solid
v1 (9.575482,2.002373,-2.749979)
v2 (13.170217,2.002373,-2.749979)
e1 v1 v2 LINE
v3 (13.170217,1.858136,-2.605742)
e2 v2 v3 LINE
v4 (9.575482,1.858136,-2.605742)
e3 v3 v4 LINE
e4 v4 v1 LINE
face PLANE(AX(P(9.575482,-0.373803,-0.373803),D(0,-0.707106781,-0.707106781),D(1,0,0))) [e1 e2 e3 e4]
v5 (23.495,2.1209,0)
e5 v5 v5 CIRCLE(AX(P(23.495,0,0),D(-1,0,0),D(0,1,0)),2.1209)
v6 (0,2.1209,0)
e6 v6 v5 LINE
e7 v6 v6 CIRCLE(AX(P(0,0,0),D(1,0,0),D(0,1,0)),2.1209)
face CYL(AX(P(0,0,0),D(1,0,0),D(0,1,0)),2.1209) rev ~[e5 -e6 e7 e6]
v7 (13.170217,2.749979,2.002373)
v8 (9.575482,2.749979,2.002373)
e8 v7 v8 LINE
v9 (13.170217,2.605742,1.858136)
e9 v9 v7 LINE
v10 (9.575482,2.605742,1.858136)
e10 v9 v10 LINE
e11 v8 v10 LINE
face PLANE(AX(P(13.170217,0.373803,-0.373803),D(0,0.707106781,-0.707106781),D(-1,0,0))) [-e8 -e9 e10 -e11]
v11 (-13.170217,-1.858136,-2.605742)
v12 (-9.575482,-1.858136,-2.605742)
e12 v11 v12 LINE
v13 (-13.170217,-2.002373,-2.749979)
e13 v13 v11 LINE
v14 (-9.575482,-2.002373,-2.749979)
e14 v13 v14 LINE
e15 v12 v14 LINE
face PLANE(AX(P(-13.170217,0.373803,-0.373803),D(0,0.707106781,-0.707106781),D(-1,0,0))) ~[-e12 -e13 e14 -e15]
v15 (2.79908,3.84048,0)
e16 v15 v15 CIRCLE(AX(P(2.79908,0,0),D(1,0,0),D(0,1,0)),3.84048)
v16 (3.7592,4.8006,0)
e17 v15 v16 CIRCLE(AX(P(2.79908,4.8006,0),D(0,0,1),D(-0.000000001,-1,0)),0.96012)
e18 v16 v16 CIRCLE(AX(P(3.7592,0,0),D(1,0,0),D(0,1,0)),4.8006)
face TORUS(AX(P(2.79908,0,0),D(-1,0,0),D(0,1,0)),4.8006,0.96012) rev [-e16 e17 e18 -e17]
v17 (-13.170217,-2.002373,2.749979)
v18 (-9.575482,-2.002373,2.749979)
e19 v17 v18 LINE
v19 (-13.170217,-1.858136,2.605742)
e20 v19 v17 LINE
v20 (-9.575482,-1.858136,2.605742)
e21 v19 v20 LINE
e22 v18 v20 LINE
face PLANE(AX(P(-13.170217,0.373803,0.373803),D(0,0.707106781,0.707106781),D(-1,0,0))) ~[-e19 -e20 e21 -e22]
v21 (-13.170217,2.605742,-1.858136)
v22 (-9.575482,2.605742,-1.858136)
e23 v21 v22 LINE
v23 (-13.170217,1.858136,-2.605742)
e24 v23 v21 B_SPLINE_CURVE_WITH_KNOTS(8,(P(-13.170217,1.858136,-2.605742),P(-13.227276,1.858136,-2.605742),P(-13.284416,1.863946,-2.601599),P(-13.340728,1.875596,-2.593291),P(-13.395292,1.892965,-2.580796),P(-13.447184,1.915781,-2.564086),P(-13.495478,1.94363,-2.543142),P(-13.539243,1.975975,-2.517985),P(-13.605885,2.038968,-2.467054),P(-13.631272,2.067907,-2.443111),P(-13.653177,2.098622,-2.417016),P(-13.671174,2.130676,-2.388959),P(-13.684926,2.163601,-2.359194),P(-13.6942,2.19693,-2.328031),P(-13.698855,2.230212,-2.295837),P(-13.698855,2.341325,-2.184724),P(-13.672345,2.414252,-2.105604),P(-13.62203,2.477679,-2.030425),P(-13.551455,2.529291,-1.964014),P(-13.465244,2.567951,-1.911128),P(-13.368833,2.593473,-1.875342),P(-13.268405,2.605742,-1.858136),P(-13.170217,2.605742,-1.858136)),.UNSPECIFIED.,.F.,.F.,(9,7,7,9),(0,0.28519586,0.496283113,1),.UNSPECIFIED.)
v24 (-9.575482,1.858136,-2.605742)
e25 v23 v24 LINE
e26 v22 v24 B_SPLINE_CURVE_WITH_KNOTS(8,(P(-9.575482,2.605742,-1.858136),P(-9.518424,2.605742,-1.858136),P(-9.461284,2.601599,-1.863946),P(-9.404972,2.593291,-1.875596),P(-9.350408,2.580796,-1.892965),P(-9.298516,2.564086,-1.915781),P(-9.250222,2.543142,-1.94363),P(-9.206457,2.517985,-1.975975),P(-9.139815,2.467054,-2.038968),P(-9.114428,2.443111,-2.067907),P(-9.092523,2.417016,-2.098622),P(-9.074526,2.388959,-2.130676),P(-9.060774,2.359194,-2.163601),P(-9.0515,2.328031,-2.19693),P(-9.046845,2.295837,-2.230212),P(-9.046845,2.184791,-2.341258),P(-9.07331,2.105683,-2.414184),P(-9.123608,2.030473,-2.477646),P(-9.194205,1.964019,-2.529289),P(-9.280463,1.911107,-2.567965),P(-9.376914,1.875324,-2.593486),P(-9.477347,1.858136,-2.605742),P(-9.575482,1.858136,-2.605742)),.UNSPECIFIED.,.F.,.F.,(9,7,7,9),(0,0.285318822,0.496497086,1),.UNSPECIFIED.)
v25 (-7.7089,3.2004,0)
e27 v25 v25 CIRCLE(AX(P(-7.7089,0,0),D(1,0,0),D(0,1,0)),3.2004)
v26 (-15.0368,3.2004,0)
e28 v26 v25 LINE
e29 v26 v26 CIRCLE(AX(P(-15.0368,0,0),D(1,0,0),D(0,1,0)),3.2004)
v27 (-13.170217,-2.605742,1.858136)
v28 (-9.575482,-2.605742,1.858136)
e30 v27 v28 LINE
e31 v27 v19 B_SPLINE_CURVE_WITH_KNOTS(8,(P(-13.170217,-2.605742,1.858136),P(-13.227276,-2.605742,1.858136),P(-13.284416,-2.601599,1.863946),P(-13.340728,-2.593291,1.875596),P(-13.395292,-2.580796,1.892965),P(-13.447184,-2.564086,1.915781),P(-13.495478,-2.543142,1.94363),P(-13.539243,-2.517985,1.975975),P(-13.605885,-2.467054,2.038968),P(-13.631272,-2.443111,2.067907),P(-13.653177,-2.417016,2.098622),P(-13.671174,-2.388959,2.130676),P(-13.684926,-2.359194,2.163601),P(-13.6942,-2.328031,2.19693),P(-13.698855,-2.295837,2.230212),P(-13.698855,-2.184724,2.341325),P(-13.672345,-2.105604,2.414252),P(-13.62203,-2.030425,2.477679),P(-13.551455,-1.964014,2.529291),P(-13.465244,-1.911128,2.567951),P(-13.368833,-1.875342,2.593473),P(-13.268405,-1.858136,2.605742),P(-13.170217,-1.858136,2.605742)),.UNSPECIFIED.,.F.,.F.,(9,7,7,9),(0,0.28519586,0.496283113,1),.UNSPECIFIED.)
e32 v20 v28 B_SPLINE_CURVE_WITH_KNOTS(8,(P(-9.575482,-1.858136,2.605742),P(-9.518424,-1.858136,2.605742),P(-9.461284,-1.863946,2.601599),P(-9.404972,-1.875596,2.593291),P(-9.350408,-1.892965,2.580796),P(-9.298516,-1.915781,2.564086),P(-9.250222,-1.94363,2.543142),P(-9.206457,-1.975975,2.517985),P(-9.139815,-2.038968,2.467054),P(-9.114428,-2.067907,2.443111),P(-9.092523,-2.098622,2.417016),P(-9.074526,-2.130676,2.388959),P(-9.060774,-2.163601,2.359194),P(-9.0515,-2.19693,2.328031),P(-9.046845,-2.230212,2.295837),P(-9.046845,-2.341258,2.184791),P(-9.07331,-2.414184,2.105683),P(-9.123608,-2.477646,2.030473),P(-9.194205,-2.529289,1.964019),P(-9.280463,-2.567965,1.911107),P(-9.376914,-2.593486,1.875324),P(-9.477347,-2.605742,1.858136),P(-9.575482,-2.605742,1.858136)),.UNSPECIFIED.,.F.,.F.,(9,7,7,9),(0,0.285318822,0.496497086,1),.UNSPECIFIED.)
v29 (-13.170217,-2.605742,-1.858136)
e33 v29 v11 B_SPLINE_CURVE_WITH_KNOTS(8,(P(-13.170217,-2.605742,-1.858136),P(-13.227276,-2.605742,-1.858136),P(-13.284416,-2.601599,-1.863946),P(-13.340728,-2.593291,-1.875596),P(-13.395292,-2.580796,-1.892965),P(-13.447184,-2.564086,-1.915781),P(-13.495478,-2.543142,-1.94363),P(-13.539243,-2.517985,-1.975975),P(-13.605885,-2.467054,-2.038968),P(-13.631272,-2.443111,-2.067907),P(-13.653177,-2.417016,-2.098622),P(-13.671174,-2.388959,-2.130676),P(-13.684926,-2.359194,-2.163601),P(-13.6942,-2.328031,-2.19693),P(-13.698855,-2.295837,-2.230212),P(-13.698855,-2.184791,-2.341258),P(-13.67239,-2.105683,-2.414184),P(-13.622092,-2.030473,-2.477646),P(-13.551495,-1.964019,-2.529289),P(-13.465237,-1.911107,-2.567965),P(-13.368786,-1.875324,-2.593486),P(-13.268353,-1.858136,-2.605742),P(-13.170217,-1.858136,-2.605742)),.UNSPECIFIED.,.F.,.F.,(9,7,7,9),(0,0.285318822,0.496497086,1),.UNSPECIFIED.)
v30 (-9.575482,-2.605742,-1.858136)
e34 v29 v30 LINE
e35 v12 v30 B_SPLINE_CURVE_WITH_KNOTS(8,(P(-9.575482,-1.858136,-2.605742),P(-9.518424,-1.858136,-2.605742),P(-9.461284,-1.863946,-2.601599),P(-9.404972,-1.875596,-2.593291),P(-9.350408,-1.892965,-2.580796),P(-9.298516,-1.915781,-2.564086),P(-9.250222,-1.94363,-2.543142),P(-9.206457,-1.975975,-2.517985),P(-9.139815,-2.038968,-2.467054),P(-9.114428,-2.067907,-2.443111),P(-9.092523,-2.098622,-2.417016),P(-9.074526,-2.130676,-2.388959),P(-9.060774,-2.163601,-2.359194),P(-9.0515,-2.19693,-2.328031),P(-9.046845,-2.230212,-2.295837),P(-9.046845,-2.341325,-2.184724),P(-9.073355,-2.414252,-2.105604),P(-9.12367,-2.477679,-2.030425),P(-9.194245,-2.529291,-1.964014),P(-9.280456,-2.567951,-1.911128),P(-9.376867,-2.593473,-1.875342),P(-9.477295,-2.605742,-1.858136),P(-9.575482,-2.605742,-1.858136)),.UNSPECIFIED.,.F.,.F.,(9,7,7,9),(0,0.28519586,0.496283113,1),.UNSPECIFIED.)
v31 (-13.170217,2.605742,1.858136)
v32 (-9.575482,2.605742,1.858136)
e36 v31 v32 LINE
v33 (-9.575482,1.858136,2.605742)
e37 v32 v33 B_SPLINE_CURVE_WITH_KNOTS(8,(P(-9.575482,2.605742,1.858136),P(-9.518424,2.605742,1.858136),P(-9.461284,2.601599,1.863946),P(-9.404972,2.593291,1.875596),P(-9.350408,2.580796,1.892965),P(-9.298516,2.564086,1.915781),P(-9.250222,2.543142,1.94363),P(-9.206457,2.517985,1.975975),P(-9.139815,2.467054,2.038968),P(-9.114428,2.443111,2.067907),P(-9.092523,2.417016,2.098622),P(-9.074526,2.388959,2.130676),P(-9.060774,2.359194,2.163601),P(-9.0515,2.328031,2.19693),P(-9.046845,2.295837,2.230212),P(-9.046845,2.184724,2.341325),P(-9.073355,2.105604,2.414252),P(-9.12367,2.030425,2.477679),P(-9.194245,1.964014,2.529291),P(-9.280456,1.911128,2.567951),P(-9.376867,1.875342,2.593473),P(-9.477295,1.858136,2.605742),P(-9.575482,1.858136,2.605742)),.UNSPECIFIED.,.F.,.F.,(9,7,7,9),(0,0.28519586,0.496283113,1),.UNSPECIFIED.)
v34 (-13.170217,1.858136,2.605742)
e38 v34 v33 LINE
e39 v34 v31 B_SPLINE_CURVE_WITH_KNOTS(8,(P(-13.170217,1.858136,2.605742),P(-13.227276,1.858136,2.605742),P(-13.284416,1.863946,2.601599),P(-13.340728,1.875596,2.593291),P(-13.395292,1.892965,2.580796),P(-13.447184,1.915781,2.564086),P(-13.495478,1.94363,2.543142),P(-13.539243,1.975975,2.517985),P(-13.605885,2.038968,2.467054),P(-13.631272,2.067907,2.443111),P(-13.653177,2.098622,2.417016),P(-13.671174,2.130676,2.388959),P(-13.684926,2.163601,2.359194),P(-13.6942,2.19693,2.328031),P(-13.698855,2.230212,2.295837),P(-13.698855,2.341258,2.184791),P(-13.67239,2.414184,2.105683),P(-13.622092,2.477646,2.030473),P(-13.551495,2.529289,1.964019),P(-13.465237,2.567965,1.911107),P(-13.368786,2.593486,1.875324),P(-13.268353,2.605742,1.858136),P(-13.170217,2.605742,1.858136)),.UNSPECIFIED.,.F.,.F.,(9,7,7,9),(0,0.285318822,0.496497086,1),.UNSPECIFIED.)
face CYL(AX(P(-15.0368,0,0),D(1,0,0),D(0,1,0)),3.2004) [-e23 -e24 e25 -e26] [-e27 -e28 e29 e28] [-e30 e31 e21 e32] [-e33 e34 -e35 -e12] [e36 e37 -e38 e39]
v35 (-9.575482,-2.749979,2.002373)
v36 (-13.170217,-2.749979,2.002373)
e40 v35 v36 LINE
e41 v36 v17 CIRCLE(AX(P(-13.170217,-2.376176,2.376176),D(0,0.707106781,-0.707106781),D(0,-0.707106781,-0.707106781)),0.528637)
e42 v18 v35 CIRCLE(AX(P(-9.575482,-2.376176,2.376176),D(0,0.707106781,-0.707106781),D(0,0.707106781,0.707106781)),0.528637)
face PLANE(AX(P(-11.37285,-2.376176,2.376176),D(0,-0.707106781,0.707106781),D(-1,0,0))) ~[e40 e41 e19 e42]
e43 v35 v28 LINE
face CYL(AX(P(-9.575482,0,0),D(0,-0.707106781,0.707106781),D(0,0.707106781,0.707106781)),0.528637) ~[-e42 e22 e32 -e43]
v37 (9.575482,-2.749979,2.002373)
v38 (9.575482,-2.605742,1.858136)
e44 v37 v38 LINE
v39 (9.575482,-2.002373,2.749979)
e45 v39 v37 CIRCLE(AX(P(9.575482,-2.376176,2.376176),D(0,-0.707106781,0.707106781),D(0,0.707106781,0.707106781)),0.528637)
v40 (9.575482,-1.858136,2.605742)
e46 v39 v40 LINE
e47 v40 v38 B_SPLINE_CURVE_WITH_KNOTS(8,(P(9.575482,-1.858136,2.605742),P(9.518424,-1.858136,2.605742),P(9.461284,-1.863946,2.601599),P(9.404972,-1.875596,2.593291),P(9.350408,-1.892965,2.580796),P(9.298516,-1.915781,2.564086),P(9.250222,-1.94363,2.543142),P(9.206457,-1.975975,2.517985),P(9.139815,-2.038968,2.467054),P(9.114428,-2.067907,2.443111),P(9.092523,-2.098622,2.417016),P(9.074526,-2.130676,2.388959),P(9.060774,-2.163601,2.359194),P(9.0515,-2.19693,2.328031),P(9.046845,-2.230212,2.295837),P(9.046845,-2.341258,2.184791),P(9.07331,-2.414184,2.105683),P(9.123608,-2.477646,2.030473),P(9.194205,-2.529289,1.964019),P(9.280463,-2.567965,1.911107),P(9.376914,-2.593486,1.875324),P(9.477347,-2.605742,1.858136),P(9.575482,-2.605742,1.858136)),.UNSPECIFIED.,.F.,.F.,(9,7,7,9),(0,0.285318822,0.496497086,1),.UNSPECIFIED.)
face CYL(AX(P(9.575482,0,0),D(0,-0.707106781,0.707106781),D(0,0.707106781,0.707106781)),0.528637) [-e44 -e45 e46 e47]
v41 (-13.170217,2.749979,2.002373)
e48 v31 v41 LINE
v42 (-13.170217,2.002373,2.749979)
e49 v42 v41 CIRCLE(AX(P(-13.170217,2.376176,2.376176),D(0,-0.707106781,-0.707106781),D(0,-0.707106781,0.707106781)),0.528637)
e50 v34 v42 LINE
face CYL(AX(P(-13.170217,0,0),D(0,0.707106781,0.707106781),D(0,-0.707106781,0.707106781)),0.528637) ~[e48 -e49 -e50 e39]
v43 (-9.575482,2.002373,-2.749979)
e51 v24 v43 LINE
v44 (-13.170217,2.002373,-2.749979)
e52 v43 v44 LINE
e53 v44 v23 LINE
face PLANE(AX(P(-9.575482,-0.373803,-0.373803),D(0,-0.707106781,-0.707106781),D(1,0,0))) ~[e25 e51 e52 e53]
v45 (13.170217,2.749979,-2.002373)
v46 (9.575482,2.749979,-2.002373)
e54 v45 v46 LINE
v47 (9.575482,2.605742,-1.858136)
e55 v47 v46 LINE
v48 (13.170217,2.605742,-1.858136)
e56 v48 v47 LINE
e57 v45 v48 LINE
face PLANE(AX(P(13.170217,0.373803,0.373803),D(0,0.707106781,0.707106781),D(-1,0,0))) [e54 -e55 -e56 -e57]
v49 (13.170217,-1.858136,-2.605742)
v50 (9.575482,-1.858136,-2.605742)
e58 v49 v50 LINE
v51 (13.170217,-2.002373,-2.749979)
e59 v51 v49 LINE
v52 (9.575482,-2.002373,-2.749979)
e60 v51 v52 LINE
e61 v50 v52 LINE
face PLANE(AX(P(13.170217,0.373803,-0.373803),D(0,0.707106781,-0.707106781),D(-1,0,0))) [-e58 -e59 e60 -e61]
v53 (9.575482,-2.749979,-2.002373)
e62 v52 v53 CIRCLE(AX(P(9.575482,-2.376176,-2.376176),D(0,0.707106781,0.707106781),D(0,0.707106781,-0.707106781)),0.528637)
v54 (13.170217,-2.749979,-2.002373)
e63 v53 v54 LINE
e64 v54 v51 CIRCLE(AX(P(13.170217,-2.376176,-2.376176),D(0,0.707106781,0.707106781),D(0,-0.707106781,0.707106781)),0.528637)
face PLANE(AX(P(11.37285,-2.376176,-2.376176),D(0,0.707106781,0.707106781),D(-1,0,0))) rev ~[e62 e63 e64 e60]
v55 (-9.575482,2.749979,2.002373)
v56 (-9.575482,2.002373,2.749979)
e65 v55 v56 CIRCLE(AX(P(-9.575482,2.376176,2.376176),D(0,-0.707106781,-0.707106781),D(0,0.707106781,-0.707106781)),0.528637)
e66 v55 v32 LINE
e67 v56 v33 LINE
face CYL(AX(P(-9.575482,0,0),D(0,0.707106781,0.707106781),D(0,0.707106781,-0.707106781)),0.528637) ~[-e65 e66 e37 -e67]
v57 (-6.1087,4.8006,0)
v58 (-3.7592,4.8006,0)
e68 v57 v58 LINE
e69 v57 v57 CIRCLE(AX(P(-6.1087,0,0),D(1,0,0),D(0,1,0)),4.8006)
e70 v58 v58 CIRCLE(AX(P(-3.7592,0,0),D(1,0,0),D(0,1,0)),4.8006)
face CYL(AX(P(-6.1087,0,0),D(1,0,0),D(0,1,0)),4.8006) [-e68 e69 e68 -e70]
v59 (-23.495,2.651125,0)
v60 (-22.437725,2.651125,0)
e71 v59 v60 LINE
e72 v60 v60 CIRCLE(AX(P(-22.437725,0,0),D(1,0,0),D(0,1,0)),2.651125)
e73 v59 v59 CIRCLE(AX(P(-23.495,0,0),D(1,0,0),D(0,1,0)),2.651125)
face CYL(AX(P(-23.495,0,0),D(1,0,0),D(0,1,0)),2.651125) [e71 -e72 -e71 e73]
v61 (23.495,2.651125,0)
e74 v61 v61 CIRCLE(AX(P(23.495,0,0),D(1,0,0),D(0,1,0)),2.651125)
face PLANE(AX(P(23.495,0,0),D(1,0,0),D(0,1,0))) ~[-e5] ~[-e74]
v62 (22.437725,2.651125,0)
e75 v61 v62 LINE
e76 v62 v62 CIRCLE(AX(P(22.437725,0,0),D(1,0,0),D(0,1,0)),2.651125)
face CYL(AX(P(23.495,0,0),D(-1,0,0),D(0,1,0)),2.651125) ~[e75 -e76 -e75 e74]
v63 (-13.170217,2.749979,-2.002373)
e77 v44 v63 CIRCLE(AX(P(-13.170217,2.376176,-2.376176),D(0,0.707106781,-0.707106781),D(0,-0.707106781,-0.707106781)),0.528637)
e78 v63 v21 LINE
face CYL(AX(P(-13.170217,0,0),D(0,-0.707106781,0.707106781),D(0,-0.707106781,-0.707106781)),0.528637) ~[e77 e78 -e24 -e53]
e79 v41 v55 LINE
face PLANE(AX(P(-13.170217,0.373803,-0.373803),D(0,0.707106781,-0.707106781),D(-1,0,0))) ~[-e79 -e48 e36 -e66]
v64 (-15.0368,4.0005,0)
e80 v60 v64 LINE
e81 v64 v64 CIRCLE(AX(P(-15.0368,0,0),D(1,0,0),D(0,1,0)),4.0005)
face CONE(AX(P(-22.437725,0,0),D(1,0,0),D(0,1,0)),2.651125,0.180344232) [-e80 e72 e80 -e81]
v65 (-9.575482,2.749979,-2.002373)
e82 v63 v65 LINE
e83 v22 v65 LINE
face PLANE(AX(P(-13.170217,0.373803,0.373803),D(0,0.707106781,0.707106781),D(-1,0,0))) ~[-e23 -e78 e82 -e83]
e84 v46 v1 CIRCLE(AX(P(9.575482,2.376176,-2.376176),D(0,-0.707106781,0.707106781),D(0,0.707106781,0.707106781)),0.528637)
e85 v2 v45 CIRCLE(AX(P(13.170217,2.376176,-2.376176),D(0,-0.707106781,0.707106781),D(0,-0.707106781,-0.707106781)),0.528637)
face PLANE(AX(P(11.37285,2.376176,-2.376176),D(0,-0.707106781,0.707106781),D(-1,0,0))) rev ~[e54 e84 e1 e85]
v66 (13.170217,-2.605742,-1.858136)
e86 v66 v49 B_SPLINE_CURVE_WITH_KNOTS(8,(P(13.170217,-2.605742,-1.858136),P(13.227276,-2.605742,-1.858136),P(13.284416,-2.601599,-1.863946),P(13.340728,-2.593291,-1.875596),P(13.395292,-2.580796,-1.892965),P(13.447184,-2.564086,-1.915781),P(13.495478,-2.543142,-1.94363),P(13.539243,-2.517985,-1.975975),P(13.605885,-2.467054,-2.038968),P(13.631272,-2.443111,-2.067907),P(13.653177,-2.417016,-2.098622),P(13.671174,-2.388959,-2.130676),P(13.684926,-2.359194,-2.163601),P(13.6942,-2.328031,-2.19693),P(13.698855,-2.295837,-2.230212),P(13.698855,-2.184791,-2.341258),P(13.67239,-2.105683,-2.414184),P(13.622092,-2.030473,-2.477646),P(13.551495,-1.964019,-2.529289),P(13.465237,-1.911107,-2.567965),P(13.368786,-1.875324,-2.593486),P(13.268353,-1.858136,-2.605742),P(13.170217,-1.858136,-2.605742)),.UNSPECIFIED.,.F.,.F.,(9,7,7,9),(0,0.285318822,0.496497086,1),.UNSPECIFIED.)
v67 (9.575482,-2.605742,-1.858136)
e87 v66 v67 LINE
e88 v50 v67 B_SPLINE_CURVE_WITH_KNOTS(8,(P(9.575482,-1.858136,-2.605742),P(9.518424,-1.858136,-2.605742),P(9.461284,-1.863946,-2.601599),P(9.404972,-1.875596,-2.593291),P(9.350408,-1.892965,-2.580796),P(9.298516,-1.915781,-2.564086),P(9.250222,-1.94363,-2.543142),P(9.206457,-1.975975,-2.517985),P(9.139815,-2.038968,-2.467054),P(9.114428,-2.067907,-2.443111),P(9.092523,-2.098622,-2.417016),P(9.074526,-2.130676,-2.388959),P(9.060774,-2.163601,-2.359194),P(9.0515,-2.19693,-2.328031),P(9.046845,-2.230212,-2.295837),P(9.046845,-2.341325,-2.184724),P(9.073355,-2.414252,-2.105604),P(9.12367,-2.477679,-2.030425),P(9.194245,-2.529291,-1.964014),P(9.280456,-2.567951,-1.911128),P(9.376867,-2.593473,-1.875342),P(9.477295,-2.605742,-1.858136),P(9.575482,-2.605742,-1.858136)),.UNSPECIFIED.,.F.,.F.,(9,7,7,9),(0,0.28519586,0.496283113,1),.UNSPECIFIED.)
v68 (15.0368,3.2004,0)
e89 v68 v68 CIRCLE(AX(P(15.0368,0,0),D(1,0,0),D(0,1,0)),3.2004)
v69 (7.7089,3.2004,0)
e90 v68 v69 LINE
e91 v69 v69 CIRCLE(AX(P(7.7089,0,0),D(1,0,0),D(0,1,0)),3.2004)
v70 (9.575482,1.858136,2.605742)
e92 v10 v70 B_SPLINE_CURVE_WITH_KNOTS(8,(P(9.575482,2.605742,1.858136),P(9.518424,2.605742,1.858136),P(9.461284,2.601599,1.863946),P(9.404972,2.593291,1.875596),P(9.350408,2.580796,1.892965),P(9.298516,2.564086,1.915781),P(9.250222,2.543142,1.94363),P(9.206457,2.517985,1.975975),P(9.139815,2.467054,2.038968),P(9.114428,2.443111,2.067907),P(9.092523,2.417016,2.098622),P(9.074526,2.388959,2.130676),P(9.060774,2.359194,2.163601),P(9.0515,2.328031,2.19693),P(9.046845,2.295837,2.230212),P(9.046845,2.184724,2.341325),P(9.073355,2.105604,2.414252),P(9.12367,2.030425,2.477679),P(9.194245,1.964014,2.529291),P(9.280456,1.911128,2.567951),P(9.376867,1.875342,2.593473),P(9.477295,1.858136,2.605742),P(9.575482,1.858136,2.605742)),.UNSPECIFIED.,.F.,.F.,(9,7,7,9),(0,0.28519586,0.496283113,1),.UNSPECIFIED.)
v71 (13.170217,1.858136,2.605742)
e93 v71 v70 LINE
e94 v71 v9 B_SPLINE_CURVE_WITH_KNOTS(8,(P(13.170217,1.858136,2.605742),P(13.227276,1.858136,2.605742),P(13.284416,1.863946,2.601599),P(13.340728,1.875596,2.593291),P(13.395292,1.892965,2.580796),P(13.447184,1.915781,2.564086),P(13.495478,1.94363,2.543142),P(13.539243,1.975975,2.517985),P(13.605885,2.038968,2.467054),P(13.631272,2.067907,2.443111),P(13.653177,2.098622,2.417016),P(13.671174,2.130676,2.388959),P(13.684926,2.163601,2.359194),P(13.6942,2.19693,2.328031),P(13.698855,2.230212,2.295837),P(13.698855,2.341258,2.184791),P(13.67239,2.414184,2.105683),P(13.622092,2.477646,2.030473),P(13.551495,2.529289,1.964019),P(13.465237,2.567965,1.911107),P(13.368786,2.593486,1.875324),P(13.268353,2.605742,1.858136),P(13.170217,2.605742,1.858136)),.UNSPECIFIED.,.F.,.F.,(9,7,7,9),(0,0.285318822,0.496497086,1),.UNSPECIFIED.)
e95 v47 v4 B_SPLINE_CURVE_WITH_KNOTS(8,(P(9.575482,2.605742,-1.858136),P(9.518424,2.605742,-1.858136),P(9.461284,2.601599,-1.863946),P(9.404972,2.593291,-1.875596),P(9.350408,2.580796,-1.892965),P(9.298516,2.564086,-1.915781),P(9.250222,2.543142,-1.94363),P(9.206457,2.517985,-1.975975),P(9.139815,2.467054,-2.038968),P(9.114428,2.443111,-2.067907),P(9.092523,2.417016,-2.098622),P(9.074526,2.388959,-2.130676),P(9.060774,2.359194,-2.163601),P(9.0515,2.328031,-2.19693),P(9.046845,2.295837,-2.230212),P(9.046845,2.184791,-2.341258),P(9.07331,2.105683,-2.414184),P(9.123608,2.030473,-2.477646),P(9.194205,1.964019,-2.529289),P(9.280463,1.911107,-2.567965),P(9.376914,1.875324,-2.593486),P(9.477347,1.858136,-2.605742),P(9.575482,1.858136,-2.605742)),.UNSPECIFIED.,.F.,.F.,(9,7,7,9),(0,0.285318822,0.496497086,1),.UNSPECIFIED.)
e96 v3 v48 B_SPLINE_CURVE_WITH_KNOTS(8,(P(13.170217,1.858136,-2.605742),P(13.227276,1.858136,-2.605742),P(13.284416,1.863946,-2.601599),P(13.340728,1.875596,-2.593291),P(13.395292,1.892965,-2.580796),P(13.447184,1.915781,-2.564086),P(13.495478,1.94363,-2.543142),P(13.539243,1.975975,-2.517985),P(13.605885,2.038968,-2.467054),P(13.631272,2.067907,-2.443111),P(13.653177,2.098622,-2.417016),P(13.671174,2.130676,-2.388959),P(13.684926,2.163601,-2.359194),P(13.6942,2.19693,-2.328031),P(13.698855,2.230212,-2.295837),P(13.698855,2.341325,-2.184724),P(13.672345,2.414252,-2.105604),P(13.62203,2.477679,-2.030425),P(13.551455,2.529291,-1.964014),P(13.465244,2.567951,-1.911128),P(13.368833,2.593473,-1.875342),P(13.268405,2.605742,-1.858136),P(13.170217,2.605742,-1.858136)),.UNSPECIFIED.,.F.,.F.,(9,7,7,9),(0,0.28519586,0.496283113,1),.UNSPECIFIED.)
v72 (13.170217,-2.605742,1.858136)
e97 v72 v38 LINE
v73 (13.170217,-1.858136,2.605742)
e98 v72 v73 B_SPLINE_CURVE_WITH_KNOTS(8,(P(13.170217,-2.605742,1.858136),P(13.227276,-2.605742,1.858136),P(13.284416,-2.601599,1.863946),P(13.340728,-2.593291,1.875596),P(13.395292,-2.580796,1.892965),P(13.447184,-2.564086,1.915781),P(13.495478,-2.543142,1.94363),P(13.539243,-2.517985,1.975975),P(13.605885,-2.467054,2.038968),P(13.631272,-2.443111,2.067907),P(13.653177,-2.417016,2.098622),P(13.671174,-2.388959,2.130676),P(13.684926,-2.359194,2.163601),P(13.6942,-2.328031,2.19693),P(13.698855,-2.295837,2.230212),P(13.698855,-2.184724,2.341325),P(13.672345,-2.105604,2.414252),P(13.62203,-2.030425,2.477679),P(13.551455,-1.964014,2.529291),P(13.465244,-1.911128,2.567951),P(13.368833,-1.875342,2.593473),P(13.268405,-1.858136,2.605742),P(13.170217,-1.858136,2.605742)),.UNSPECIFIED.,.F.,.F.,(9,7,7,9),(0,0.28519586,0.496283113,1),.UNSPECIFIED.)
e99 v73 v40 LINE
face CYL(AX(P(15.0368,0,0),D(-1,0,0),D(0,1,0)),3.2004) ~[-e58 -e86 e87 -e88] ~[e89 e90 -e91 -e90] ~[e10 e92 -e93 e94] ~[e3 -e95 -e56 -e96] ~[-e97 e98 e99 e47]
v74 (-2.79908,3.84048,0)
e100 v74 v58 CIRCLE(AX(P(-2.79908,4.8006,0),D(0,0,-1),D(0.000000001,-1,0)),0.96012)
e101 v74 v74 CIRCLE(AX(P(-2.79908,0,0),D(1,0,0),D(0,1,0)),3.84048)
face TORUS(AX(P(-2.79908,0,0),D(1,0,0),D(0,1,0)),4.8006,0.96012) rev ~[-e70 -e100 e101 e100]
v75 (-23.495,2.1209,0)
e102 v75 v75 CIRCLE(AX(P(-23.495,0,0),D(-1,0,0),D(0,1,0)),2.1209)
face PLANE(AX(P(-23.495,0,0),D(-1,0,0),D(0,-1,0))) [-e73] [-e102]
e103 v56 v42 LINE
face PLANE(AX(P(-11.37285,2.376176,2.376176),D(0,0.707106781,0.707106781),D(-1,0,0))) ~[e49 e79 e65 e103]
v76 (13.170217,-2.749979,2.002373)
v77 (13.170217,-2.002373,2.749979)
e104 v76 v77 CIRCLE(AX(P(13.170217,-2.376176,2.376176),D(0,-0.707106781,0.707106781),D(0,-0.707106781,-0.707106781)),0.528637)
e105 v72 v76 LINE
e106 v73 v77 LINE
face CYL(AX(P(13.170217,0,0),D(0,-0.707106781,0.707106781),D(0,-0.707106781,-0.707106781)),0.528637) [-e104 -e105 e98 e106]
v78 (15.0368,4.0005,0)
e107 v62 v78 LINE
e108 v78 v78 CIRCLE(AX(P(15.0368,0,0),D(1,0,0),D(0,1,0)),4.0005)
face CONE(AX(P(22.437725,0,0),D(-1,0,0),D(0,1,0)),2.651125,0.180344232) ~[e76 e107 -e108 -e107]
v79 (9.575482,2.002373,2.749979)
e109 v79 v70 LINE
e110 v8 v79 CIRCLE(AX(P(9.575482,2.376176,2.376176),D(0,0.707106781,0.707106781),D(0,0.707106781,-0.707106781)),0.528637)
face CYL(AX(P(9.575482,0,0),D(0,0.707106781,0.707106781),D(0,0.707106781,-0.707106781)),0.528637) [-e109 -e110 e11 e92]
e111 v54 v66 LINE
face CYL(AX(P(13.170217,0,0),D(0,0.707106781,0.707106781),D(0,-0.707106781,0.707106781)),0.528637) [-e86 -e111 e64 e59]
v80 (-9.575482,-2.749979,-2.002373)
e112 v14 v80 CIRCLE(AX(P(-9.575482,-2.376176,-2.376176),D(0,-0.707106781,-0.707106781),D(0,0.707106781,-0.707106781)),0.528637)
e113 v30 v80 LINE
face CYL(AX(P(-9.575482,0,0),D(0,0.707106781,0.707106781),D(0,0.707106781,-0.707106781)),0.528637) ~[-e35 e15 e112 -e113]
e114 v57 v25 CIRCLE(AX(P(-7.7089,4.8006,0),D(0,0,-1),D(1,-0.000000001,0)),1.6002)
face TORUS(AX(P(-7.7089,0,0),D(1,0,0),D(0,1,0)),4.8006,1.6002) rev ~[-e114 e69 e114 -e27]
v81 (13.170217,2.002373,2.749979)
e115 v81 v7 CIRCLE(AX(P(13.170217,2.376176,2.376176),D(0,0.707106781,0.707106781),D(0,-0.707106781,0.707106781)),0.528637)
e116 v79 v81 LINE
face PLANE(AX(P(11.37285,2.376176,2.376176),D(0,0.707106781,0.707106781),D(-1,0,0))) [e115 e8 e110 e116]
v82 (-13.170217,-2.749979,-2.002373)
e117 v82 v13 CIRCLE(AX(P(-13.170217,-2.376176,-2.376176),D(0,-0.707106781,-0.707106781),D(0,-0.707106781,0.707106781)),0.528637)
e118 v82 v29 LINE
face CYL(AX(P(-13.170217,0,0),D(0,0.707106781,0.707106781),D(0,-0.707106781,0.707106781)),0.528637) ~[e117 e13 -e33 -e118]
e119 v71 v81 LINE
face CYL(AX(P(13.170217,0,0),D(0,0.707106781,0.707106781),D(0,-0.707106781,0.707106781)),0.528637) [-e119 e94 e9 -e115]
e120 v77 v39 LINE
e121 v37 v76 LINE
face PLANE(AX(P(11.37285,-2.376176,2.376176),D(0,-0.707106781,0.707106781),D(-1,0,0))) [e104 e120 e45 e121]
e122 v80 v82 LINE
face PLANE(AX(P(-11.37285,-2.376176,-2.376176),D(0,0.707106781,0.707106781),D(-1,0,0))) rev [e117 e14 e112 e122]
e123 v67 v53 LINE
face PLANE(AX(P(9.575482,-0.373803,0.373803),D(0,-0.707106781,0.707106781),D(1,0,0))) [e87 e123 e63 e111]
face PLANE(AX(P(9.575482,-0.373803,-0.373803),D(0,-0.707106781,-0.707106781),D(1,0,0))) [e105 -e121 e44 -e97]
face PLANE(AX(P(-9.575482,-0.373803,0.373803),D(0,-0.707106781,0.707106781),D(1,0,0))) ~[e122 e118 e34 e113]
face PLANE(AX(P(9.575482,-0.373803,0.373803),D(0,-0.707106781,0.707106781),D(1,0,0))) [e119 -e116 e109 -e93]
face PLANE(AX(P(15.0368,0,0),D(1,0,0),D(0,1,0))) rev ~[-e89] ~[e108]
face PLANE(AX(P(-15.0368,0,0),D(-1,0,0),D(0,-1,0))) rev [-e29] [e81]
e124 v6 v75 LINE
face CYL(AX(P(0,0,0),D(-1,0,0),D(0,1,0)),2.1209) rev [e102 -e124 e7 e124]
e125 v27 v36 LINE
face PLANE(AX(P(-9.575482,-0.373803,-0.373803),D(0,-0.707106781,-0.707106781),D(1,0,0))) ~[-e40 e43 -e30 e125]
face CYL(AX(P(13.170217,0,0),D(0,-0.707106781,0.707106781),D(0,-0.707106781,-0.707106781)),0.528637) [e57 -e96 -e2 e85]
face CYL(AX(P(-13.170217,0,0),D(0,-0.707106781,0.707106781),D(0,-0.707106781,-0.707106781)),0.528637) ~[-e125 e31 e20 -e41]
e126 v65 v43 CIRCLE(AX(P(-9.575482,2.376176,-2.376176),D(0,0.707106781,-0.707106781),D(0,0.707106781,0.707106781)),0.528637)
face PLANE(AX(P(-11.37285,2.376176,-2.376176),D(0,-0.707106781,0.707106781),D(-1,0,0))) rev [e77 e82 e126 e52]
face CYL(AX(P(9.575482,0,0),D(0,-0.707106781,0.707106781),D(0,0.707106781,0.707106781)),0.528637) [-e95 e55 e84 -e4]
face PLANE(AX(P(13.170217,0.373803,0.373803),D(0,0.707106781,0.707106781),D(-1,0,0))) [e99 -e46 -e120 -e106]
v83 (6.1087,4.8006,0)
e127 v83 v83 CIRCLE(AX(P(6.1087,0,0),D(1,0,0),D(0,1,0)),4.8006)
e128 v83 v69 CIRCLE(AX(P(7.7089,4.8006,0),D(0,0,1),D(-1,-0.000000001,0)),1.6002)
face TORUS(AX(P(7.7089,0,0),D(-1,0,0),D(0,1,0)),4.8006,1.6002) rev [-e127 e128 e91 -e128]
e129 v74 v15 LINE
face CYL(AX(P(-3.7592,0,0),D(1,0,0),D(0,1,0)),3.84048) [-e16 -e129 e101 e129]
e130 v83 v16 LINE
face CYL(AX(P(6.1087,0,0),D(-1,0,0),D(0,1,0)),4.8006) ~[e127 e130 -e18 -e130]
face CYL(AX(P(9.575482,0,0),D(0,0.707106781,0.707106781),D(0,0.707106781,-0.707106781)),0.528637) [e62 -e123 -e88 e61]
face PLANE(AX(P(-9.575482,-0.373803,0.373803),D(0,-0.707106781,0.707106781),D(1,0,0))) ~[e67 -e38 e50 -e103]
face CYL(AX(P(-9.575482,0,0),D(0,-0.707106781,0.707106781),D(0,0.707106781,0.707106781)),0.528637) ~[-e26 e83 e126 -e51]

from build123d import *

# Parameters (mm, degrees)
EXTRUDE1_DEPTH     = 3.36042
CIRPATTERN1_COUNT  = 2
CIRPATTERN1_ANGLE  = 90
SKETCH4_R          = 2.1209
CUT_EXTRUDE1_DEPTH = 24.4950001


with BuildPart() as part:
    # Sketch1 → Revolve1 (revolve)
    with BuildSketch(Plane.XY):
        Polygon((23.495, 2.1209), (23.495, 2.651125), (22.437725, 2.651125), (15.0368, 4.0005), (15.0368, 3.2004), (6.1087, 3.2004), (6.1087, 4.8006), (3.7592, 4.8006), (3.7592, 3.84048), (0, 3.84048), (0, 2.1209), align=None)
    revolve(axis=Axis((0, 0, 0), (1, 0, 0)))

    # Sketch2 → Revolve2 (revolve)
    with BuildSketch(Plane.XY):
        with BuildLine():
            Line((7.7089, 3.2004), (6.1087, 3.2004))
            Line((6.1087, 3.2004), (6.1087, 4.8006))
            ThreePointArc((6.1087, 4.8006), (6.577387729, 3.669087729), (7.7089, 3.2004))
        make_face()
        with BuildLine():
            Line((3.7592, 4.8006), (3.7592, 3.84048))
            Line((3.7592, 3.84048), (2.79908, 3.84048))
            ThreePointArc((2.79908, 3.84048), (3.477987363, 4.121692637), (3.7592, 4.8006))
        make_face()
    revolve(axis=Axis((0, 0, 0), (1, 0, 0)))

    # Sketch3 → Extrude1 (add, symmetric)
    with BuildSketch(Plane(origin=(0, 0, 0), x_dir=(-1, 0, 0), z_dir=(0, 0.707106781, 0.707106781))):
        with BuildLine():
            Line((-9.5754825, 0.5286375), (-13.1702175, 0.5286375))
            ThreePointArc((-13.1702175, 0.5286375), (-13.698855, 0), (-13.1702175, -0.5286375))
            Line((-13.1702175, -0.5286375), (-9.5754825, -0.5286375))
            ThreePointArc((-9.5754825, -0.5286375), (-9.046845, 0), (-9.5754825, 0.5286375))
        make_face()
    extrude1 = extrude(amount=EXTRUDE1_DEPTH, both=True)

    # CirPattern1: Extrude1 ×2 about axis
    cirpattern1_axis = Axis((0, 0, 0), (1, 0, 0))
    for i in range(1, CIRPATTERN1_COUNT):
        add(extrude1.rotate(cirpattern1_axis, i * CIRPATTERN1_ANGLE / (CIRPATTERN1_COUNT - 1)))

    # Sketch4 → Cut-Extrude1 (cut, through all)
    with BuildSketch(Plane(origin=(23.495, 0, 0), x_dir=(0, 0, -1), z_dir=(1, 0, 0))):
        Circle(SKETCH4_R)
    extrude(amount=-CUT_EXTRUDE1_DEPTH, mode=Mode.SUBTRACT)

    # Mirror1: part across plane


with BuildPart() as part_1:
    add(part.part)
    add(part.part.mirror(Plane(origin=(0, 0, 0), x_dir=(0, 0, 1), z_dir=(1, 0, 0))))


solid = part_1.part
